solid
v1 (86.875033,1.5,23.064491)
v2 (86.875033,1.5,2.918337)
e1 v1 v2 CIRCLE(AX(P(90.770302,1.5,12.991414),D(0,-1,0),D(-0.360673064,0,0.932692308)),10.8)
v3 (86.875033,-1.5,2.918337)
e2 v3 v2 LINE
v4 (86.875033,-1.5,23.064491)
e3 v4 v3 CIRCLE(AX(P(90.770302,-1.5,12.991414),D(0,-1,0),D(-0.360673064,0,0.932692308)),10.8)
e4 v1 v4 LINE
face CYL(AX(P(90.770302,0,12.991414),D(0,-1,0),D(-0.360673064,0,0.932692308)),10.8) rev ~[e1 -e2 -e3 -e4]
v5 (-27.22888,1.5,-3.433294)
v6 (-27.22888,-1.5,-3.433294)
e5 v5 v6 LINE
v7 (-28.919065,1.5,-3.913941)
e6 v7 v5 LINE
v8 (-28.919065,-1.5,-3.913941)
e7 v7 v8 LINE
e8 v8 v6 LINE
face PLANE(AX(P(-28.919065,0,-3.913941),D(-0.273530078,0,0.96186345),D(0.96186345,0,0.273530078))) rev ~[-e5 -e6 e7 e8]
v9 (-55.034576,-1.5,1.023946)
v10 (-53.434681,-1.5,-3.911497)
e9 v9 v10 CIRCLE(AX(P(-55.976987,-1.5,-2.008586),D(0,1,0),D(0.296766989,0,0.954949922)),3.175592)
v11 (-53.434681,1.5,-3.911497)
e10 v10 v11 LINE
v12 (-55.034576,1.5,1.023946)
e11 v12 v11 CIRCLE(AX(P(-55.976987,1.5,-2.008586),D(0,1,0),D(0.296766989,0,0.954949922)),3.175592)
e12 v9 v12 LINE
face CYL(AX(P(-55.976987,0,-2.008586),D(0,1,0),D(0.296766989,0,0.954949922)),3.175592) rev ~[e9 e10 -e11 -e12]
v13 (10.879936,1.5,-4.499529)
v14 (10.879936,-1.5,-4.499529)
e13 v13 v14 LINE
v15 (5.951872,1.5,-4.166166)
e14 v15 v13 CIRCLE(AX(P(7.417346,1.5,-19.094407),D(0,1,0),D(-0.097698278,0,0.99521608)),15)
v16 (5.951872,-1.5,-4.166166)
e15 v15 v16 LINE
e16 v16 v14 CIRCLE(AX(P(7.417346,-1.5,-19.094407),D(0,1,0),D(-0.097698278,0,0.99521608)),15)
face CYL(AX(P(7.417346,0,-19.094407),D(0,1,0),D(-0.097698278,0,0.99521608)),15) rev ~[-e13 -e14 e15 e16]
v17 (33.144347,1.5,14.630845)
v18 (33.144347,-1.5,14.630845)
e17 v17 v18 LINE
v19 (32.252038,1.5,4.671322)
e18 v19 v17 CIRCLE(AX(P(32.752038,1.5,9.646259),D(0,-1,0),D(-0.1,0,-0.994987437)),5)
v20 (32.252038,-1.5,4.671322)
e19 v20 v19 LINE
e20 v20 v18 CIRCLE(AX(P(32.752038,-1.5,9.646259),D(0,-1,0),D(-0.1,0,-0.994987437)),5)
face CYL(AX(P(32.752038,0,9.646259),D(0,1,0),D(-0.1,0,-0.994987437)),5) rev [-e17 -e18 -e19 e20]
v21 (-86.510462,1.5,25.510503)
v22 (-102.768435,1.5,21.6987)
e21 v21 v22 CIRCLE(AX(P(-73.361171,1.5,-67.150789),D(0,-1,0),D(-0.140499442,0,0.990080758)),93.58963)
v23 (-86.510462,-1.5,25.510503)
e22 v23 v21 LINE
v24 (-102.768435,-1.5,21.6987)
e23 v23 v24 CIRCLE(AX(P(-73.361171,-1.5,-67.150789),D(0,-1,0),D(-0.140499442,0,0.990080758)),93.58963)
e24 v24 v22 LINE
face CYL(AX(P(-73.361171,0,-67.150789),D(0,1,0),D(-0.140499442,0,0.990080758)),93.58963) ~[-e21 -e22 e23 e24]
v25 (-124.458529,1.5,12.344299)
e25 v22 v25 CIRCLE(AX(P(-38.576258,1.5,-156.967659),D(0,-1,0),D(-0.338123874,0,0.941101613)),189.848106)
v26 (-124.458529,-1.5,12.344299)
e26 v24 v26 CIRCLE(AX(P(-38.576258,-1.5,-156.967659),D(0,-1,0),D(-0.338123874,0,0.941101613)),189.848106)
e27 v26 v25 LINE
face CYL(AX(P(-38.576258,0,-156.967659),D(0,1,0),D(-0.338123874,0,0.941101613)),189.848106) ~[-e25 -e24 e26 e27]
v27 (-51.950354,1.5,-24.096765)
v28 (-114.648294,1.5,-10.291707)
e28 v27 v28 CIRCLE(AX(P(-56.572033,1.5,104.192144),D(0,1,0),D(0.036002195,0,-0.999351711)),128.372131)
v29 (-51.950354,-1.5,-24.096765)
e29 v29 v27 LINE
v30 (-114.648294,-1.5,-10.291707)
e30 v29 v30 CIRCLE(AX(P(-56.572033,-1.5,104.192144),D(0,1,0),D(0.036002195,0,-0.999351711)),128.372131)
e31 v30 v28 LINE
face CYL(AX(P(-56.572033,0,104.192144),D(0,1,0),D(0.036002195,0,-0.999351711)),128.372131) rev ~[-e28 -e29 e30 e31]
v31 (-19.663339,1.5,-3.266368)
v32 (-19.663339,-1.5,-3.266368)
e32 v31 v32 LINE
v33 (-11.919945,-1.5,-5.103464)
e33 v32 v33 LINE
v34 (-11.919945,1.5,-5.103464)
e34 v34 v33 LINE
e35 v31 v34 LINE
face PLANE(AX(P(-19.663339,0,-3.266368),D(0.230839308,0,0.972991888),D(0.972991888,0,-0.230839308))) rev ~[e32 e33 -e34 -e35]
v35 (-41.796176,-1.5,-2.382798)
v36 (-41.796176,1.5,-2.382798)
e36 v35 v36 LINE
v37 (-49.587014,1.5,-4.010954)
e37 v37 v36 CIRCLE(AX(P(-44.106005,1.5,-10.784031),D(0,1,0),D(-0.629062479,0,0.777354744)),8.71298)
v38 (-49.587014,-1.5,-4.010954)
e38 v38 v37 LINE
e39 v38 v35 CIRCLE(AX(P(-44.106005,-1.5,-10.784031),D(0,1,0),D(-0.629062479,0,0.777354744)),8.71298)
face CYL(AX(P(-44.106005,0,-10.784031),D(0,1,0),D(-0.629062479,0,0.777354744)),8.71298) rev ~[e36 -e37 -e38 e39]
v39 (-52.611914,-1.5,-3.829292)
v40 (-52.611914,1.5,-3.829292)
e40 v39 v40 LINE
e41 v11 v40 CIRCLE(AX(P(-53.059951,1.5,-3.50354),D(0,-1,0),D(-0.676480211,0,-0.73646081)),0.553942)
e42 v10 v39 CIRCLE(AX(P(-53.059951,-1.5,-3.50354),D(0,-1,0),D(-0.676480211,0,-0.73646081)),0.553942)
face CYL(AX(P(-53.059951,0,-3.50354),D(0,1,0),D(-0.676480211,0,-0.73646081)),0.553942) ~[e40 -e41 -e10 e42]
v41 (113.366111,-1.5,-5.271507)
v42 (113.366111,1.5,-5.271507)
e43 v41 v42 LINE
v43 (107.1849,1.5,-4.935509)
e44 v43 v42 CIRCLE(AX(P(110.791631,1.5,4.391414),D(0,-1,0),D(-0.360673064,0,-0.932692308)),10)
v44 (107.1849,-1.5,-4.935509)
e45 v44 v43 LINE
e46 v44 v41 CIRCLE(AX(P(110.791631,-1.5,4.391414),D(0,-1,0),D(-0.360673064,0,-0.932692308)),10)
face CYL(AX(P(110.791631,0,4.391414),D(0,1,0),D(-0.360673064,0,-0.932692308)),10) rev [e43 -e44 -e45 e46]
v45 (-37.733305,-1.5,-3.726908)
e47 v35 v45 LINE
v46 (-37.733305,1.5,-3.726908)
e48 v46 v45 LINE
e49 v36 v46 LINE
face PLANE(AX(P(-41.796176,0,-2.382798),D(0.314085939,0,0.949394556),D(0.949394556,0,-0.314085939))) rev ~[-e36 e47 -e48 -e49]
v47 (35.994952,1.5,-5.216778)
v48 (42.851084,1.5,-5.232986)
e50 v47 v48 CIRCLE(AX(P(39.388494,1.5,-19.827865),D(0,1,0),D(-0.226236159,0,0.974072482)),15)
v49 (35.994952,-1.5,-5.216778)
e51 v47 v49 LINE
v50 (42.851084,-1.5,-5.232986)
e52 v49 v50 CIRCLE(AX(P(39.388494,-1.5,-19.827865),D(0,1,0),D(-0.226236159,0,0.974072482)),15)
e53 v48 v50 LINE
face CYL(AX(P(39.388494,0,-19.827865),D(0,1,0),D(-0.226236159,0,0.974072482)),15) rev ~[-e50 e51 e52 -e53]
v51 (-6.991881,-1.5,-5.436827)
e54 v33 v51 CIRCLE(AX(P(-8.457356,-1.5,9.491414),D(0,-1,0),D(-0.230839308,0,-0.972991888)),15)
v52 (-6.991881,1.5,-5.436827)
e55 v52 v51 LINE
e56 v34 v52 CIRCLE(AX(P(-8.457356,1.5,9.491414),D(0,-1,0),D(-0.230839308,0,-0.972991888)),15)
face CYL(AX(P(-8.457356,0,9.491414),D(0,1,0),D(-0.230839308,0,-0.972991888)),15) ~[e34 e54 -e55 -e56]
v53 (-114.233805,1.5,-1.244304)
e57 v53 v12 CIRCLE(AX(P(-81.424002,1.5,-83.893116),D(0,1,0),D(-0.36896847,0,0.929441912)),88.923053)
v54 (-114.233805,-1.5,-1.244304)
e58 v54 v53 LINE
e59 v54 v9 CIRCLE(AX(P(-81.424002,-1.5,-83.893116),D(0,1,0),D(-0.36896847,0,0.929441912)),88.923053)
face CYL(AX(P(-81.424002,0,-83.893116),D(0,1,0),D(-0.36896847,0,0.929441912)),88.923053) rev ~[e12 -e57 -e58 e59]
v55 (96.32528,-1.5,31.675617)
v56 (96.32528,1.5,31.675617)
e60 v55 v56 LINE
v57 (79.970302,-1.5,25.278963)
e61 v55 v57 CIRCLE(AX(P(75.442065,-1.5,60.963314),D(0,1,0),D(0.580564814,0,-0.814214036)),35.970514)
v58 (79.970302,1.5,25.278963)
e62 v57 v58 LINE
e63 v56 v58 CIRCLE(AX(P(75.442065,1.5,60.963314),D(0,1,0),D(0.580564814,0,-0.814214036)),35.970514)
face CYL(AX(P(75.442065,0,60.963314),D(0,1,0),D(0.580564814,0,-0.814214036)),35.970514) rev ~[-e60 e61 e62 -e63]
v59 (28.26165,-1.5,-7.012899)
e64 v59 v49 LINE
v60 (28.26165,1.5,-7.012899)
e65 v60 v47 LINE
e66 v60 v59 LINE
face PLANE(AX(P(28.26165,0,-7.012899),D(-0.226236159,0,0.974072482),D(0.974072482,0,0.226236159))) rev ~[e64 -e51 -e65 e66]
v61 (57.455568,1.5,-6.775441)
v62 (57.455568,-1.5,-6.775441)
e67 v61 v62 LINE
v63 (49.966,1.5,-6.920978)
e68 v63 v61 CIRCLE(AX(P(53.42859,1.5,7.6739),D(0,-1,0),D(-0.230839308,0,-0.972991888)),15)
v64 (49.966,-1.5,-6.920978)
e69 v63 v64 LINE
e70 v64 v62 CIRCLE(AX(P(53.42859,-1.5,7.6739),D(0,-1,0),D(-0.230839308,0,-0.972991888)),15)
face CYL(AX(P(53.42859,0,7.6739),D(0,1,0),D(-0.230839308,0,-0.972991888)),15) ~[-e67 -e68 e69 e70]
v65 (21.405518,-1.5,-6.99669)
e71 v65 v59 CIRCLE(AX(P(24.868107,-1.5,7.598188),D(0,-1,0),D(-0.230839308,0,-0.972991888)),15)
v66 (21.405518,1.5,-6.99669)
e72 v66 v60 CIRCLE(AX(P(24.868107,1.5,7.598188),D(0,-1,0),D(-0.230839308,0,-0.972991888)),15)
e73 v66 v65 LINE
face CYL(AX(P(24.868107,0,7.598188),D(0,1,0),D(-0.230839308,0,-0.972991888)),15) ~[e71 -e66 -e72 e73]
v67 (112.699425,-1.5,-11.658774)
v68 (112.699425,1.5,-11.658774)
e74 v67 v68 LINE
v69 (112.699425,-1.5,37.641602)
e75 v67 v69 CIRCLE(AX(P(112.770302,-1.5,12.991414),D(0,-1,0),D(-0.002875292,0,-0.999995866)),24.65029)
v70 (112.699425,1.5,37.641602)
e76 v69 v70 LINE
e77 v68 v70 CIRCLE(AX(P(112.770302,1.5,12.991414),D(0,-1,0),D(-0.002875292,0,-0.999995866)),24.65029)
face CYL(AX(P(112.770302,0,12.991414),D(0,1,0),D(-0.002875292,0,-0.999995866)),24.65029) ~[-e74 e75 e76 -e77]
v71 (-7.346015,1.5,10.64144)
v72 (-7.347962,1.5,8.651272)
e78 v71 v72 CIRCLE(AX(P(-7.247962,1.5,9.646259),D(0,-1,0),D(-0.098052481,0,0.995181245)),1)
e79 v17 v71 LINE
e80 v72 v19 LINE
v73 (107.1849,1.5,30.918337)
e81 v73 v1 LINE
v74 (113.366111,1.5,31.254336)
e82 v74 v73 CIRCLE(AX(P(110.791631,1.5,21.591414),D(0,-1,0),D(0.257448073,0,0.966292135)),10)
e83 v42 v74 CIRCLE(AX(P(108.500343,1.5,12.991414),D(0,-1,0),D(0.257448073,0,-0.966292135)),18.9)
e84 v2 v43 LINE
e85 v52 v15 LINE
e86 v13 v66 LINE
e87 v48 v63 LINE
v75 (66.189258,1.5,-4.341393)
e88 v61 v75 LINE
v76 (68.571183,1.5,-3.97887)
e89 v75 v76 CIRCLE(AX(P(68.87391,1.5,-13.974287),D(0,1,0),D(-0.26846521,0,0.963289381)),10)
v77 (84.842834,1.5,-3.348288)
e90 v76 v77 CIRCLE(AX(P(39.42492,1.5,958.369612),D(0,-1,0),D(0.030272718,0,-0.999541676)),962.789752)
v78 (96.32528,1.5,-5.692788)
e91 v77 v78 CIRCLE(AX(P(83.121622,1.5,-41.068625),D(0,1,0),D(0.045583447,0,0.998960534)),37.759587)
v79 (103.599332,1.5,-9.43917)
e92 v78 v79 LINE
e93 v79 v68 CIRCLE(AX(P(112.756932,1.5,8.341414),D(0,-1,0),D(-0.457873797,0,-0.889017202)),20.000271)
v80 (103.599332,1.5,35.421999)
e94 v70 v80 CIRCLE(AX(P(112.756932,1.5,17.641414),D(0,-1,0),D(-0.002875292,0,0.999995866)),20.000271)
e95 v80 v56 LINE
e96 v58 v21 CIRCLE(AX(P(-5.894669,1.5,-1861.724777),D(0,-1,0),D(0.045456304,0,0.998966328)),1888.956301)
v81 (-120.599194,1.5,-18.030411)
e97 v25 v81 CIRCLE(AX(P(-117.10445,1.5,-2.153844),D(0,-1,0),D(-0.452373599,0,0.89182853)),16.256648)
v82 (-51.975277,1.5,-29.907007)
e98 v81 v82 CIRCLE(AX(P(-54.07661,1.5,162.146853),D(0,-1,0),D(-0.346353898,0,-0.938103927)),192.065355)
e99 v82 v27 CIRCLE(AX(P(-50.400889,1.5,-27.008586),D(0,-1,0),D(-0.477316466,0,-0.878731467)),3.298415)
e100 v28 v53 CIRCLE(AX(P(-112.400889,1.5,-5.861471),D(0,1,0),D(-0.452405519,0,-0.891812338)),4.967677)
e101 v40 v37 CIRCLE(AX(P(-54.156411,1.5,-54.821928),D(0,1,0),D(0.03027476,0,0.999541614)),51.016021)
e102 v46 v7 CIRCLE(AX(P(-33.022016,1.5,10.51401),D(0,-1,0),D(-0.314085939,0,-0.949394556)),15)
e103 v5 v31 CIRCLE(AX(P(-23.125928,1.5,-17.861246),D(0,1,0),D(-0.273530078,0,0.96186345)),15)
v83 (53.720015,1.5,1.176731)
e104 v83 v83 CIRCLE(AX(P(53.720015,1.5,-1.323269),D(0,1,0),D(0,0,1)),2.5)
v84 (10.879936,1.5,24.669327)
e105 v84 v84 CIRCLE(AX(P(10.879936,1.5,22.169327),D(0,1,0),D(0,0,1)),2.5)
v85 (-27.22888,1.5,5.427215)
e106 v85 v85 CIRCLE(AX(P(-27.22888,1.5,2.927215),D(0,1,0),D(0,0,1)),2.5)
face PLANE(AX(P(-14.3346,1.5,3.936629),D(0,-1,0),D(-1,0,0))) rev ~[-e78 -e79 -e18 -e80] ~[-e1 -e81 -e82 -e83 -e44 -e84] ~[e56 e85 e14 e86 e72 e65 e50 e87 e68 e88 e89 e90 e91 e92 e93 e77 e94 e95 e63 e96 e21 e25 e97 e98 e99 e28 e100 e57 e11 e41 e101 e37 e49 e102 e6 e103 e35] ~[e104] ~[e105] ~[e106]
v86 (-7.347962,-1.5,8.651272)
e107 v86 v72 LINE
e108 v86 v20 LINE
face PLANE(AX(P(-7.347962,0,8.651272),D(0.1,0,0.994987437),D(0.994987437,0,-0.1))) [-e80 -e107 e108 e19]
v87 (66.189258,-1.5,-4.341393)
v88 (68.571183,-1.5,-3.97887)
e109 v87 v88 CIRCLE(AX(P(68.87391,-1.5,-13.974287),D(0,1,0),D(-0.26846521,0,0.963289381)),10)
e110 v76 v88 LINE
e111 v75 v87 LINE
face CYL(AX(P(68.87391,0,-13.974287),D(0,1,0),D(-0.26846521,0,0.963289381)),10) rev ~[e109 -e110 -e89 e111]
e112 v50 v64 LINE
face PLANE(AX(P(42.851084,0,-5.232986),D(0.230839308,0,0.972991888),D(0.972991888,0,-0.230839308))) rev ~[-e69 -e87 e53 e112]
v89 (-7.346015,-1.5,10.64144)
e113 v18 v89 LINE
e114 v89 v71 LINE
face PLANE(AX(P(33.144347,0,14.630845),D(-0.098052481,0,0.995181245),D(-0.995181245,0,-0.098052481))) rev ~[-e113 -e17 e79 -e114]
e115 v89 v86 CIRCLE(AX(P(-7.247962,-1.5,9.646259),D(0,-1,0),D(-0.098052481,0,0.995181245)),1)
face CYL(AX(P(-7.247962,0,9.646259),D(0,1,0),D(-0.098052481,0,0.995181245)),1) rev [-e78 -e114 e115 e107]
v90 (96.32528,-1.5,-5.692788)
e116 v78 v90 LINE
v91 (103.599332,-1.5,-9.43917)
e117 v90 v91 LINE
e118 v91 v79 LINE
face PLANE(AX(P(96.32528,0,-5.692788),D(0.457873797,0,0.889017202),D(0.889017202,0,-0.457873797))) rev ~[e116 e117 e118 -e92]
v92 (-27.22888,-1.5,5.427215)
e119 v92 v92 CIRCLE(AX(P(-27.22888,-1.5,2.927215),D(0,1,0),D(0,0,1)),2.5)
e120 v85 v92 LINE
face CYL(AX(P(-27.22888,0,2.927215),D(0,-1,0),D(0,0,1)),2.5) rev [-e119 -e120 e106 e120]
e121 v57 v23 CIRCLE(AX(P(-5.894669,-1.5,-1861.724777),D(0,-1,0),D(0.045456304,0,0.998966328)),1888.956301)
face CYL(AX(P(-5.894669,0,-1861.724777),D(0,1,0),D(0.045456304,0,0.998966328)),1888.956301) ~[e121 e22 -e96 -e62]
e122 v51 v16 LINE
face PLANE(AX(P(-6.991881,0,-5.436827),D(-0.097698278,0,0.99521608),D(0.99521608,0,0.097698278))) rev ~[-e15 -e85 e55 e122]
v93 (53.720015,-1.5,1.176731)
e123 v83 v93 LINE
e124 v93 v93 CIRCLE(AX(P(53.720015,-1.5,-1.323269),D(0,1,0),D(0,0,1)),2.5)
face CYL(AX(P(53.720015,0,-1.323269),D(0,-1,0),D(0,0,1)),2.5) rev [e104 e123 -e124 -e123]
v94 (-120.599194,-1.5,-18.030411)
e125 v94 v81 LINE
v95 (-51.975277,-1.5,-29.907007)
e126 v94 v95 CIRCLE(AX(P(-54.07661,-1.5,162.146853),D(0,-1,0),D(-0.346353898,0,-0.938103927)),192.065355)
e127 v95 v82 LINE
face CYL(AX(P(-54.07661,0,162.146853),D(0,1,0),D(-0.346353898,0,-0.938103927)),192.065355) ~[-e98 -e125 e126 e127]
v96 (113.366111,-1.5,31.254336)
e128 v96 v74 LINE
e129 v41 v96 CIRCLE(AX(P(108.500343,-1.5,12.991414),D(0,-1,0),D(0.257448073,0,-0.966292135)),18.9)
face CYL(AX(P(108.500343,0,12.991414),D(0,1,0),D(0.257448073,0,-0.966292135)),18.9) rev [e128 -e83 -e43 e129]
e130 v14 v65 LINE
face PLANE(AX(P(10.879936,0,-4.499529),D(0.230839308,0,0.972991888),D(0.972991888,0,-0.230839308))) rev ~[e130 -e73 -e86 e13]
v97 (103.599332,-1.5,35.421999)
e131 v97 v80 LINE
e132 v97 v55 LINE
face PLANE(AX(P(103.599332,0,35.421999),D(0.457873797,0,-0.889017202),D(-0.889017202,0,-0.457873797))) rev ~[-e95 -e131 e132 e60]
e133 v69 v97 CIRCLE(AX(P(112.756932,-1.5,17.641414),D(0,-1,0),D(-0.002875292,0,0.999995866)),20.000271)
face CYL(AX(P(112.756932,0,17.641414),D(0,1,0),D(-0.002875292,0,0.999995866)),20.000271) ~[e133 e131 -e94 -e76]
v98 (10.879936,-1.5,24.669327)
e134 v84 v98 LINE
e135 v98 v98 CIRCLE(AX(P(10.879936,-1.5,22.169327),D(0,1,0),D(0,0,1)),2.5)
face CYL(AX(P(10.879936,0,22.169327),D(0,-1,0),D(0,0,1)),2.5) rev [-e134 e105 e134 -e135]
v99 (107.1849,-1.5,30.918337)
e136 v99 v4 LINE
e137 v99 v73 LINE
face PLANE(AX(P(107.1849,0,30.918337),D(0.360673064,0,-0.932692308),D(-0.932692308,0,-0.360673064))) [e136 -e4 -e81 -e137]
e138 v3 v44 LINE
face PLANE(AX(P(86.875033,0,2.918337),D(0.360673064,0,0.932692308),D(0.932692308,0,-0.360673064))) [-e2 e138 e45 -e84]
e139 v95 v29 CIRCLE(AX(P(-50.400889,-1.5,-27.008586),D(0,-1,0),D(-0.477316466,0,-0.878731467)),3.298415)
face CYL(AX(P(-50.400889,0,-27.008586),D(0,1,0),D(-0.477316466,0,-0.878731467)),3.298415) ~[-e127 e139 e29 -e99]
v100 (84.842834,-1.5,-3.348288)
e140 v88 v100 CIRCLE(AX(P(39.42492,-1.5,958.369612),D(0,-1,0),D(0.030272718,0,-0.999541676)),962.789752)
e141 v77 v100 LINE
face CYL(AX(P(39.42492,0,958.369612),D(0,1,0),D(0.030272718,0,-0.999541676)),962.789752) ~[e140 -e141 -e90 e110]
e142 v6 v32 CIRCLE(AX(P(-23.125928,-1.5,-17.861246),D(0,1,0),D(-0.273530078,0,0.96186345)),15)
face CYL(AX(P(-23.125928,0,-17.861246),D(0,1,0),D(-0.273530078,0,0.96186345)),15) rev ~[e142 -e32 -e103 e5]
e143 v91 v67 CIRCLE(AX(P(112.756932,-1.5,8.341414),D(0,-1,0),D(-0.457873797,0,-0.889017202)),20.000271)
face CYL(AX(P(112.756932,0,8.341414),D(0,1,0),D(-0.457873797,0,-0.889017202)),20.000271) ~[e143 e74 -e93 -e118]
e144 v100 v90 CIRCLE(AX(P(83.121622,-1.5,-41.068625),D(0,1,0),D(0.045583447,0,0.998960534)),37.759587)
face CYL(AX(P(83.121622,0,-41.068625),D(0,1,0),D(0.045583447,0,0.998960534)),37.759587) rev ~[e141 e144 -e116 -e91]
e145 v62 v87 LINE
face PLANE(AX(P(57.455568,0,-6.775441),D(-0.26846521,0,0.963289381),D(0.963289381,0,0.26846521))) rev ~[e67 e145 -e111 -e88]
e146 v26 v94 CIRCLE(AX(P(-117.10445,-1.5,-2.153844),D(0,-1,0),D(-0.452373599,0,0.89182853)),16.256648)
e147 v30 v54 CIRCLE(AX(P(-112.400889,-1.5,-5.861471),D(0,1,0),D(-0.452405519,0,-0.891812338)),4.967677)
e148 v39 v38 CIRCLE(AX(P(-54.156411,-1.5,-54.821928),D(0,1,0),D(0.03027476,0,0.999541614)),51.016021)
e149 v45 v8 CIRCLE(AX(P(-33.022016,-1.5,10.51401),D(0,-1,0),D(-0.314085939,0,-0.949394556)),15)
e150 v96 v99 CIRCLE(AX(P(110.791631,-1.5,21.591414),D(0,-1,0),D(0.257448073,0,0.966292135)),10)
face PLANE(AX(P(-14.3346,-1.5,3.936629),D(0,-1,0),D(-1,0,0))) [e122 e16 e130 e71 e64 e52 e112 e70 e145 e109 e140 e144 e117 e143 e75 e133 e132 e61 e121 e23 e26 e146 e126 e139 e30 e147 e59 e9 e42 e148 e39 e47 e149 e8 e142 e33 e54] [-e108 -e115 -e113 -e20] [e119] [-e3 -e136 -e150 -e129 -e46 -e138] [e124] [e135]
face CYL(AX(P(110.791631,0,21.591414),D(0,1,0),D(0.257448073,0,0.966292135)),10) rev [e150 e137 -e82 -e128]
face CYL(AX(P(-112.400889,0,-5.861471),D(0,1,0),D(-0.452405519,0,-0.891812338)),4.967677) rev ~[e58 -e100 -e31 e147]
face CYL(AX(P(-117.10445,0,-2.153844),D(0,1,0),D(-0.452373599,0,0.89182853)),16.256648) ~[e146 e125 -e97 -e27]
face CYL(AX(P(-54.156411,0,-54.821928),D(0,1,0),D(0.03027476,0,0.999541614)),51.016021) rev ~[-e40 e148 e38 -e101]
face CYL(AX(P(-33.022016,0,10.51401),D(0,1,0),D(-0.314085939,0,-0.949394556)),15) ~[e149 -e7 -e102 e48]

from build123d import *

# Parameters (mm, degrees)
SKETCH1_R           = 2.4999999999999987
SKETCH1_R_2         = 2.4999999999999996
SKETCH1_R_3         = 2.4999999988368367
BOSS_EXTRUDE1_DEPTH = 1.5


with BuildPart() as part:
    # Sketch1 → Boss-Extrude1 (new, symmetric)
    with BuildSketch(Plane(origin=(0, 0, 0), x_dir=(1, 0, 0), z_dir=(0, 1, 0))):
        with BuildLine():
            Line((-41.79617581077867, 2.382798182125341), (-37.73330547981784, 3.726907894077695))
            ThreePointArc((-37.73330547981784, 3.726907894077695), (-33.34023665036322, 4.48261370370704), (-28.919065231416493, 3.9139413064841877))
            Line((-28.919065231416493, 3.9139413064841877), (-27.228879505558364, 3.4332944614597887))
            ThreePointArc((-27.228879505558364, 3.4332944614597887), (-23.456808752947794, 2.864896052239951), (-19.663338722278937, 3.26636789523878))
            Line((-19.663338722278937, 3.26636789523878), (-11.919945267506879, 5.103463979240285))
            ThreePointArc((-11.919945267506879, 5.103463979240285), (-9.469729211186351, 5.474383326712289), (-6.991881476316525, 5.436826865477882))
            Line((-6.991881476316525, 5.436826865477882), (5.951872192796172, 4.166165679329836))
            ThreePointArc((5.951872192796172, 4.166165679329836), (8.429719927543827, 4.128609218087167), (10.879935983748245, 4.499528565510892))
            Line((10.879935983748245, 4.499528565510892), (21.40551753025073, 6.996690146393965))
            ThreePointArc((21.40551753025073, 6.996690146393965), (24.83264502259487, 7.401769909560215), (28.261649532088523, 7.012899060487261))
            Line((28.261649532088523, 7.012899060487261), (35.99495155066682, 5.216777544396412))
            ThreePointArc((35.99495155066682, 5.216777544396412), (39.42395606023976, 4.82790669529539), (42.85108355268613, 5.232986458392139))
            Line((42.85108355268613, 5.232986458392139), (49.96600006451842, 6.920978336659753))
            ThreePointArc((49.96600006451842, 6.920978336659753), (53.72001531855511, 7.32326878816774), (57.455567828585835, 6.77544073145873))
            Line((57.455567828585835, 6.77544073145873), (66.18925821321116, 4.3413933248153))
            ThreePointArc((66.18925821321116, 4.3413933248153), (67.36926268792493, 4.088133405140102), (68.57118312482231, 3.9788703710124524))
            ThreePointArc((68.57118312482231, 3.9788703710124524), (76.70834195009273, 3.69798054493333), (84.84283443476778, 3.3482880245078643))
            ThreePointArc((84.84283443476778, 3.3482880245078643), (90.6755684371097, 4.07235098588054), (96.32527960365518, 5.692788225862035))
            Line((96.32527960365518, 5.692788225862035), (103.59933222252589, 9.439170279671533))
            ThreePointArc((103.59933222252589, 9.439170279671533), (108.01760653283236, 11.089221722684941), (112.69942544373606, 11.658773591445987))
            ThreePointArc((112.69942544373606, 11.658773591445987), (137.42059205461962, -12.991414338135115), (112.69942544373606, -37.64160226771621))
            ThreePointArc((112.69942544373606, -37.64160226771621), (108.01760653283236, -37.07205039895516), (103.59933222252589, -35.42199895594175))
            Line((103.59933222252589, -35.42199895594175), (96.32527960365518, -31.675616902132255))
            ThreePointArc((96.32527960365518, -31.675616902132255), (88.5441551766424, -27.463864954095598), (79.9703022290949, -25.278962792836175))
            ThreePointArc((79.9703022290949, -25.278962792836175), (-3.2675277579170765, -27.22969716665807), (-86.51046185027334, -25.510502808965498))
            ThreePointArc((-86.51046185027334, -25.510502808965498), (-94.72463382860796, -23.967931939620144), (-102.76843470025015, -21.698699973958888))
            ThreePointArc((-102.76843470025015, -21.698699973958888), (-113.75910937557403, -17.35916690176714), (-124.45852861685042, -12.344298508393459))
            ThreePointArc((-124.45852861685042, -12.344298508393459), (-133.23144555995484, 4.202899533030633), (-120.59919444516926, 18.030410751095733))
            ThreePointArc((-120.59919444516926, 18.030410751095733), (-86.83004932052131, 27.105129355217315), (-51.97527685246112, 29.907006653257785))
            ThreePointArc((-51.97527685246112, 29.907006653257785), (-47.10250450667497, 27.022733824765), (-51.95035427562549, 24.096765147433302))
            ThreePointArc((-51.95035427562549, 24.096765147433302), (-84.17625346987383, 21.176955554132093), (-114.64829350025539, 10.291706667413088))
            ThreePointArc((-114.64829350025539, 10.291706667413088), (-117.36336095050851, 5.634125667179891), (-114.23380520696547, 1.244304158141715))
            ThreePointArc((-114.23380520696547, 1.244304158141715), (-84.82863856721416, -4.964735101077579), (-55.03457582625992, -1.023945964096185))
            ThreePointArc((-55.03457582625992, -1.023945964096185), (-52.956149124988286, 1.029337853892025), (-53.43468142437476, 3.9114965636467445))
            ThreePointArc((-53.43468142437476, 3.9114965636467445), (-53.00487930043318, 4.054737535668091), (-52.611913679317254, 3.829291616670397))
            ThreePointArc((-52.611913679317254, 3.829291616670397), (-51.09811473462323, 3.897658149961778), (-49.58701407449473, 4.010954322846273))
            ThreePointArc((-49.58701407449473, 4.010954322846273), (-45.88836824044927, 2.255302591622458), (-41.79617581077867, 2.382798182125341))
        make_face()
        with Locations(Location((-27.228879503846553, -2.927214905609624, 0), (0, 0, 270))):
            Circle(SKETCH1_R, mode=Mode.SUBTRACT)
        with Locations(Location((10.879935983748245, -22.16932690789429, 0), (0, 0, 270))):
            Circle(SKETCH1_R_2, mode=Mode.SUBTRACT)
        with Locations(Location((53.72001531851656, 1.3232687879424379, 0), (0, 0, 270))):
            Circle(SKETCH1_R_3, mode=Mode.SUBTRACT)
        with BuildLine():
            Line((-7.347962122783413, -8.651271752579847), (32.25203787721659, -4.6713220041533745))
            ThreePointArc((32.25203787721659, -4.6713220041533745), (37.73209037371569, -9.200078584871521), (33.1443469248767, -14.630844790428428))
            Line((33.1443469248767, -14.630844790428428), (-7.346014603537373, -10.64144043499709))
            ThreePointArc((-7.346014603537373, -10.64144043499709), (-8.24796164398419, -9.647237759156878), (-7.347962122783413, -8.651271752579847))
        make_face(mode=Mode.SUBTRACT)
        with BuildLine():
            Line((86.87503313674924, -2.91833741505861), (107.18489994547878, 4.935508738787573))
            ThreePointArc((107.18489994547878, 4.935508738787573), (110.24885192022663, 5.593844362539373), (113.36611131404287, 5.271507010179491))
            ThreePointArc((113.36611131404287, 5.271507010179491), (123.48655350207885, -1.4751872230410612), (127.40034273906164, -12.991414338135112))
            ThreePointArc((127.40034273906164, -12.991414338135112), (123.48655350207883, -24.507641453229162), (113.36611131404287, -31.25433568644971))
            ThreePointArc((113.36611131404287, -31.25433568644971), (110.24885192022663, -31.576673038809595), (107.18489994547878, -30.9183374150578))
            Line((107.18489994547878, -30.9183374150578), (86.87503313674924, -23.064491261211614))
            ThreePointArc((86.87503313674924, -23.064491261211614), (81.86219058303507, -19.097603567215177), (79.9703022290949, -12.991414338135112))
            ThreePointArc((79.9703022290949, -12.991414338135112), (81.86219058303507, -6.8852251090550425), (86.87503313674924, -2.91833741505861))
        make_face(mode=Mode.SUBTRACT)
    extrude(amount=BOSS_EXTRUDE1_DEPTH, both=True)


solid = part.part
